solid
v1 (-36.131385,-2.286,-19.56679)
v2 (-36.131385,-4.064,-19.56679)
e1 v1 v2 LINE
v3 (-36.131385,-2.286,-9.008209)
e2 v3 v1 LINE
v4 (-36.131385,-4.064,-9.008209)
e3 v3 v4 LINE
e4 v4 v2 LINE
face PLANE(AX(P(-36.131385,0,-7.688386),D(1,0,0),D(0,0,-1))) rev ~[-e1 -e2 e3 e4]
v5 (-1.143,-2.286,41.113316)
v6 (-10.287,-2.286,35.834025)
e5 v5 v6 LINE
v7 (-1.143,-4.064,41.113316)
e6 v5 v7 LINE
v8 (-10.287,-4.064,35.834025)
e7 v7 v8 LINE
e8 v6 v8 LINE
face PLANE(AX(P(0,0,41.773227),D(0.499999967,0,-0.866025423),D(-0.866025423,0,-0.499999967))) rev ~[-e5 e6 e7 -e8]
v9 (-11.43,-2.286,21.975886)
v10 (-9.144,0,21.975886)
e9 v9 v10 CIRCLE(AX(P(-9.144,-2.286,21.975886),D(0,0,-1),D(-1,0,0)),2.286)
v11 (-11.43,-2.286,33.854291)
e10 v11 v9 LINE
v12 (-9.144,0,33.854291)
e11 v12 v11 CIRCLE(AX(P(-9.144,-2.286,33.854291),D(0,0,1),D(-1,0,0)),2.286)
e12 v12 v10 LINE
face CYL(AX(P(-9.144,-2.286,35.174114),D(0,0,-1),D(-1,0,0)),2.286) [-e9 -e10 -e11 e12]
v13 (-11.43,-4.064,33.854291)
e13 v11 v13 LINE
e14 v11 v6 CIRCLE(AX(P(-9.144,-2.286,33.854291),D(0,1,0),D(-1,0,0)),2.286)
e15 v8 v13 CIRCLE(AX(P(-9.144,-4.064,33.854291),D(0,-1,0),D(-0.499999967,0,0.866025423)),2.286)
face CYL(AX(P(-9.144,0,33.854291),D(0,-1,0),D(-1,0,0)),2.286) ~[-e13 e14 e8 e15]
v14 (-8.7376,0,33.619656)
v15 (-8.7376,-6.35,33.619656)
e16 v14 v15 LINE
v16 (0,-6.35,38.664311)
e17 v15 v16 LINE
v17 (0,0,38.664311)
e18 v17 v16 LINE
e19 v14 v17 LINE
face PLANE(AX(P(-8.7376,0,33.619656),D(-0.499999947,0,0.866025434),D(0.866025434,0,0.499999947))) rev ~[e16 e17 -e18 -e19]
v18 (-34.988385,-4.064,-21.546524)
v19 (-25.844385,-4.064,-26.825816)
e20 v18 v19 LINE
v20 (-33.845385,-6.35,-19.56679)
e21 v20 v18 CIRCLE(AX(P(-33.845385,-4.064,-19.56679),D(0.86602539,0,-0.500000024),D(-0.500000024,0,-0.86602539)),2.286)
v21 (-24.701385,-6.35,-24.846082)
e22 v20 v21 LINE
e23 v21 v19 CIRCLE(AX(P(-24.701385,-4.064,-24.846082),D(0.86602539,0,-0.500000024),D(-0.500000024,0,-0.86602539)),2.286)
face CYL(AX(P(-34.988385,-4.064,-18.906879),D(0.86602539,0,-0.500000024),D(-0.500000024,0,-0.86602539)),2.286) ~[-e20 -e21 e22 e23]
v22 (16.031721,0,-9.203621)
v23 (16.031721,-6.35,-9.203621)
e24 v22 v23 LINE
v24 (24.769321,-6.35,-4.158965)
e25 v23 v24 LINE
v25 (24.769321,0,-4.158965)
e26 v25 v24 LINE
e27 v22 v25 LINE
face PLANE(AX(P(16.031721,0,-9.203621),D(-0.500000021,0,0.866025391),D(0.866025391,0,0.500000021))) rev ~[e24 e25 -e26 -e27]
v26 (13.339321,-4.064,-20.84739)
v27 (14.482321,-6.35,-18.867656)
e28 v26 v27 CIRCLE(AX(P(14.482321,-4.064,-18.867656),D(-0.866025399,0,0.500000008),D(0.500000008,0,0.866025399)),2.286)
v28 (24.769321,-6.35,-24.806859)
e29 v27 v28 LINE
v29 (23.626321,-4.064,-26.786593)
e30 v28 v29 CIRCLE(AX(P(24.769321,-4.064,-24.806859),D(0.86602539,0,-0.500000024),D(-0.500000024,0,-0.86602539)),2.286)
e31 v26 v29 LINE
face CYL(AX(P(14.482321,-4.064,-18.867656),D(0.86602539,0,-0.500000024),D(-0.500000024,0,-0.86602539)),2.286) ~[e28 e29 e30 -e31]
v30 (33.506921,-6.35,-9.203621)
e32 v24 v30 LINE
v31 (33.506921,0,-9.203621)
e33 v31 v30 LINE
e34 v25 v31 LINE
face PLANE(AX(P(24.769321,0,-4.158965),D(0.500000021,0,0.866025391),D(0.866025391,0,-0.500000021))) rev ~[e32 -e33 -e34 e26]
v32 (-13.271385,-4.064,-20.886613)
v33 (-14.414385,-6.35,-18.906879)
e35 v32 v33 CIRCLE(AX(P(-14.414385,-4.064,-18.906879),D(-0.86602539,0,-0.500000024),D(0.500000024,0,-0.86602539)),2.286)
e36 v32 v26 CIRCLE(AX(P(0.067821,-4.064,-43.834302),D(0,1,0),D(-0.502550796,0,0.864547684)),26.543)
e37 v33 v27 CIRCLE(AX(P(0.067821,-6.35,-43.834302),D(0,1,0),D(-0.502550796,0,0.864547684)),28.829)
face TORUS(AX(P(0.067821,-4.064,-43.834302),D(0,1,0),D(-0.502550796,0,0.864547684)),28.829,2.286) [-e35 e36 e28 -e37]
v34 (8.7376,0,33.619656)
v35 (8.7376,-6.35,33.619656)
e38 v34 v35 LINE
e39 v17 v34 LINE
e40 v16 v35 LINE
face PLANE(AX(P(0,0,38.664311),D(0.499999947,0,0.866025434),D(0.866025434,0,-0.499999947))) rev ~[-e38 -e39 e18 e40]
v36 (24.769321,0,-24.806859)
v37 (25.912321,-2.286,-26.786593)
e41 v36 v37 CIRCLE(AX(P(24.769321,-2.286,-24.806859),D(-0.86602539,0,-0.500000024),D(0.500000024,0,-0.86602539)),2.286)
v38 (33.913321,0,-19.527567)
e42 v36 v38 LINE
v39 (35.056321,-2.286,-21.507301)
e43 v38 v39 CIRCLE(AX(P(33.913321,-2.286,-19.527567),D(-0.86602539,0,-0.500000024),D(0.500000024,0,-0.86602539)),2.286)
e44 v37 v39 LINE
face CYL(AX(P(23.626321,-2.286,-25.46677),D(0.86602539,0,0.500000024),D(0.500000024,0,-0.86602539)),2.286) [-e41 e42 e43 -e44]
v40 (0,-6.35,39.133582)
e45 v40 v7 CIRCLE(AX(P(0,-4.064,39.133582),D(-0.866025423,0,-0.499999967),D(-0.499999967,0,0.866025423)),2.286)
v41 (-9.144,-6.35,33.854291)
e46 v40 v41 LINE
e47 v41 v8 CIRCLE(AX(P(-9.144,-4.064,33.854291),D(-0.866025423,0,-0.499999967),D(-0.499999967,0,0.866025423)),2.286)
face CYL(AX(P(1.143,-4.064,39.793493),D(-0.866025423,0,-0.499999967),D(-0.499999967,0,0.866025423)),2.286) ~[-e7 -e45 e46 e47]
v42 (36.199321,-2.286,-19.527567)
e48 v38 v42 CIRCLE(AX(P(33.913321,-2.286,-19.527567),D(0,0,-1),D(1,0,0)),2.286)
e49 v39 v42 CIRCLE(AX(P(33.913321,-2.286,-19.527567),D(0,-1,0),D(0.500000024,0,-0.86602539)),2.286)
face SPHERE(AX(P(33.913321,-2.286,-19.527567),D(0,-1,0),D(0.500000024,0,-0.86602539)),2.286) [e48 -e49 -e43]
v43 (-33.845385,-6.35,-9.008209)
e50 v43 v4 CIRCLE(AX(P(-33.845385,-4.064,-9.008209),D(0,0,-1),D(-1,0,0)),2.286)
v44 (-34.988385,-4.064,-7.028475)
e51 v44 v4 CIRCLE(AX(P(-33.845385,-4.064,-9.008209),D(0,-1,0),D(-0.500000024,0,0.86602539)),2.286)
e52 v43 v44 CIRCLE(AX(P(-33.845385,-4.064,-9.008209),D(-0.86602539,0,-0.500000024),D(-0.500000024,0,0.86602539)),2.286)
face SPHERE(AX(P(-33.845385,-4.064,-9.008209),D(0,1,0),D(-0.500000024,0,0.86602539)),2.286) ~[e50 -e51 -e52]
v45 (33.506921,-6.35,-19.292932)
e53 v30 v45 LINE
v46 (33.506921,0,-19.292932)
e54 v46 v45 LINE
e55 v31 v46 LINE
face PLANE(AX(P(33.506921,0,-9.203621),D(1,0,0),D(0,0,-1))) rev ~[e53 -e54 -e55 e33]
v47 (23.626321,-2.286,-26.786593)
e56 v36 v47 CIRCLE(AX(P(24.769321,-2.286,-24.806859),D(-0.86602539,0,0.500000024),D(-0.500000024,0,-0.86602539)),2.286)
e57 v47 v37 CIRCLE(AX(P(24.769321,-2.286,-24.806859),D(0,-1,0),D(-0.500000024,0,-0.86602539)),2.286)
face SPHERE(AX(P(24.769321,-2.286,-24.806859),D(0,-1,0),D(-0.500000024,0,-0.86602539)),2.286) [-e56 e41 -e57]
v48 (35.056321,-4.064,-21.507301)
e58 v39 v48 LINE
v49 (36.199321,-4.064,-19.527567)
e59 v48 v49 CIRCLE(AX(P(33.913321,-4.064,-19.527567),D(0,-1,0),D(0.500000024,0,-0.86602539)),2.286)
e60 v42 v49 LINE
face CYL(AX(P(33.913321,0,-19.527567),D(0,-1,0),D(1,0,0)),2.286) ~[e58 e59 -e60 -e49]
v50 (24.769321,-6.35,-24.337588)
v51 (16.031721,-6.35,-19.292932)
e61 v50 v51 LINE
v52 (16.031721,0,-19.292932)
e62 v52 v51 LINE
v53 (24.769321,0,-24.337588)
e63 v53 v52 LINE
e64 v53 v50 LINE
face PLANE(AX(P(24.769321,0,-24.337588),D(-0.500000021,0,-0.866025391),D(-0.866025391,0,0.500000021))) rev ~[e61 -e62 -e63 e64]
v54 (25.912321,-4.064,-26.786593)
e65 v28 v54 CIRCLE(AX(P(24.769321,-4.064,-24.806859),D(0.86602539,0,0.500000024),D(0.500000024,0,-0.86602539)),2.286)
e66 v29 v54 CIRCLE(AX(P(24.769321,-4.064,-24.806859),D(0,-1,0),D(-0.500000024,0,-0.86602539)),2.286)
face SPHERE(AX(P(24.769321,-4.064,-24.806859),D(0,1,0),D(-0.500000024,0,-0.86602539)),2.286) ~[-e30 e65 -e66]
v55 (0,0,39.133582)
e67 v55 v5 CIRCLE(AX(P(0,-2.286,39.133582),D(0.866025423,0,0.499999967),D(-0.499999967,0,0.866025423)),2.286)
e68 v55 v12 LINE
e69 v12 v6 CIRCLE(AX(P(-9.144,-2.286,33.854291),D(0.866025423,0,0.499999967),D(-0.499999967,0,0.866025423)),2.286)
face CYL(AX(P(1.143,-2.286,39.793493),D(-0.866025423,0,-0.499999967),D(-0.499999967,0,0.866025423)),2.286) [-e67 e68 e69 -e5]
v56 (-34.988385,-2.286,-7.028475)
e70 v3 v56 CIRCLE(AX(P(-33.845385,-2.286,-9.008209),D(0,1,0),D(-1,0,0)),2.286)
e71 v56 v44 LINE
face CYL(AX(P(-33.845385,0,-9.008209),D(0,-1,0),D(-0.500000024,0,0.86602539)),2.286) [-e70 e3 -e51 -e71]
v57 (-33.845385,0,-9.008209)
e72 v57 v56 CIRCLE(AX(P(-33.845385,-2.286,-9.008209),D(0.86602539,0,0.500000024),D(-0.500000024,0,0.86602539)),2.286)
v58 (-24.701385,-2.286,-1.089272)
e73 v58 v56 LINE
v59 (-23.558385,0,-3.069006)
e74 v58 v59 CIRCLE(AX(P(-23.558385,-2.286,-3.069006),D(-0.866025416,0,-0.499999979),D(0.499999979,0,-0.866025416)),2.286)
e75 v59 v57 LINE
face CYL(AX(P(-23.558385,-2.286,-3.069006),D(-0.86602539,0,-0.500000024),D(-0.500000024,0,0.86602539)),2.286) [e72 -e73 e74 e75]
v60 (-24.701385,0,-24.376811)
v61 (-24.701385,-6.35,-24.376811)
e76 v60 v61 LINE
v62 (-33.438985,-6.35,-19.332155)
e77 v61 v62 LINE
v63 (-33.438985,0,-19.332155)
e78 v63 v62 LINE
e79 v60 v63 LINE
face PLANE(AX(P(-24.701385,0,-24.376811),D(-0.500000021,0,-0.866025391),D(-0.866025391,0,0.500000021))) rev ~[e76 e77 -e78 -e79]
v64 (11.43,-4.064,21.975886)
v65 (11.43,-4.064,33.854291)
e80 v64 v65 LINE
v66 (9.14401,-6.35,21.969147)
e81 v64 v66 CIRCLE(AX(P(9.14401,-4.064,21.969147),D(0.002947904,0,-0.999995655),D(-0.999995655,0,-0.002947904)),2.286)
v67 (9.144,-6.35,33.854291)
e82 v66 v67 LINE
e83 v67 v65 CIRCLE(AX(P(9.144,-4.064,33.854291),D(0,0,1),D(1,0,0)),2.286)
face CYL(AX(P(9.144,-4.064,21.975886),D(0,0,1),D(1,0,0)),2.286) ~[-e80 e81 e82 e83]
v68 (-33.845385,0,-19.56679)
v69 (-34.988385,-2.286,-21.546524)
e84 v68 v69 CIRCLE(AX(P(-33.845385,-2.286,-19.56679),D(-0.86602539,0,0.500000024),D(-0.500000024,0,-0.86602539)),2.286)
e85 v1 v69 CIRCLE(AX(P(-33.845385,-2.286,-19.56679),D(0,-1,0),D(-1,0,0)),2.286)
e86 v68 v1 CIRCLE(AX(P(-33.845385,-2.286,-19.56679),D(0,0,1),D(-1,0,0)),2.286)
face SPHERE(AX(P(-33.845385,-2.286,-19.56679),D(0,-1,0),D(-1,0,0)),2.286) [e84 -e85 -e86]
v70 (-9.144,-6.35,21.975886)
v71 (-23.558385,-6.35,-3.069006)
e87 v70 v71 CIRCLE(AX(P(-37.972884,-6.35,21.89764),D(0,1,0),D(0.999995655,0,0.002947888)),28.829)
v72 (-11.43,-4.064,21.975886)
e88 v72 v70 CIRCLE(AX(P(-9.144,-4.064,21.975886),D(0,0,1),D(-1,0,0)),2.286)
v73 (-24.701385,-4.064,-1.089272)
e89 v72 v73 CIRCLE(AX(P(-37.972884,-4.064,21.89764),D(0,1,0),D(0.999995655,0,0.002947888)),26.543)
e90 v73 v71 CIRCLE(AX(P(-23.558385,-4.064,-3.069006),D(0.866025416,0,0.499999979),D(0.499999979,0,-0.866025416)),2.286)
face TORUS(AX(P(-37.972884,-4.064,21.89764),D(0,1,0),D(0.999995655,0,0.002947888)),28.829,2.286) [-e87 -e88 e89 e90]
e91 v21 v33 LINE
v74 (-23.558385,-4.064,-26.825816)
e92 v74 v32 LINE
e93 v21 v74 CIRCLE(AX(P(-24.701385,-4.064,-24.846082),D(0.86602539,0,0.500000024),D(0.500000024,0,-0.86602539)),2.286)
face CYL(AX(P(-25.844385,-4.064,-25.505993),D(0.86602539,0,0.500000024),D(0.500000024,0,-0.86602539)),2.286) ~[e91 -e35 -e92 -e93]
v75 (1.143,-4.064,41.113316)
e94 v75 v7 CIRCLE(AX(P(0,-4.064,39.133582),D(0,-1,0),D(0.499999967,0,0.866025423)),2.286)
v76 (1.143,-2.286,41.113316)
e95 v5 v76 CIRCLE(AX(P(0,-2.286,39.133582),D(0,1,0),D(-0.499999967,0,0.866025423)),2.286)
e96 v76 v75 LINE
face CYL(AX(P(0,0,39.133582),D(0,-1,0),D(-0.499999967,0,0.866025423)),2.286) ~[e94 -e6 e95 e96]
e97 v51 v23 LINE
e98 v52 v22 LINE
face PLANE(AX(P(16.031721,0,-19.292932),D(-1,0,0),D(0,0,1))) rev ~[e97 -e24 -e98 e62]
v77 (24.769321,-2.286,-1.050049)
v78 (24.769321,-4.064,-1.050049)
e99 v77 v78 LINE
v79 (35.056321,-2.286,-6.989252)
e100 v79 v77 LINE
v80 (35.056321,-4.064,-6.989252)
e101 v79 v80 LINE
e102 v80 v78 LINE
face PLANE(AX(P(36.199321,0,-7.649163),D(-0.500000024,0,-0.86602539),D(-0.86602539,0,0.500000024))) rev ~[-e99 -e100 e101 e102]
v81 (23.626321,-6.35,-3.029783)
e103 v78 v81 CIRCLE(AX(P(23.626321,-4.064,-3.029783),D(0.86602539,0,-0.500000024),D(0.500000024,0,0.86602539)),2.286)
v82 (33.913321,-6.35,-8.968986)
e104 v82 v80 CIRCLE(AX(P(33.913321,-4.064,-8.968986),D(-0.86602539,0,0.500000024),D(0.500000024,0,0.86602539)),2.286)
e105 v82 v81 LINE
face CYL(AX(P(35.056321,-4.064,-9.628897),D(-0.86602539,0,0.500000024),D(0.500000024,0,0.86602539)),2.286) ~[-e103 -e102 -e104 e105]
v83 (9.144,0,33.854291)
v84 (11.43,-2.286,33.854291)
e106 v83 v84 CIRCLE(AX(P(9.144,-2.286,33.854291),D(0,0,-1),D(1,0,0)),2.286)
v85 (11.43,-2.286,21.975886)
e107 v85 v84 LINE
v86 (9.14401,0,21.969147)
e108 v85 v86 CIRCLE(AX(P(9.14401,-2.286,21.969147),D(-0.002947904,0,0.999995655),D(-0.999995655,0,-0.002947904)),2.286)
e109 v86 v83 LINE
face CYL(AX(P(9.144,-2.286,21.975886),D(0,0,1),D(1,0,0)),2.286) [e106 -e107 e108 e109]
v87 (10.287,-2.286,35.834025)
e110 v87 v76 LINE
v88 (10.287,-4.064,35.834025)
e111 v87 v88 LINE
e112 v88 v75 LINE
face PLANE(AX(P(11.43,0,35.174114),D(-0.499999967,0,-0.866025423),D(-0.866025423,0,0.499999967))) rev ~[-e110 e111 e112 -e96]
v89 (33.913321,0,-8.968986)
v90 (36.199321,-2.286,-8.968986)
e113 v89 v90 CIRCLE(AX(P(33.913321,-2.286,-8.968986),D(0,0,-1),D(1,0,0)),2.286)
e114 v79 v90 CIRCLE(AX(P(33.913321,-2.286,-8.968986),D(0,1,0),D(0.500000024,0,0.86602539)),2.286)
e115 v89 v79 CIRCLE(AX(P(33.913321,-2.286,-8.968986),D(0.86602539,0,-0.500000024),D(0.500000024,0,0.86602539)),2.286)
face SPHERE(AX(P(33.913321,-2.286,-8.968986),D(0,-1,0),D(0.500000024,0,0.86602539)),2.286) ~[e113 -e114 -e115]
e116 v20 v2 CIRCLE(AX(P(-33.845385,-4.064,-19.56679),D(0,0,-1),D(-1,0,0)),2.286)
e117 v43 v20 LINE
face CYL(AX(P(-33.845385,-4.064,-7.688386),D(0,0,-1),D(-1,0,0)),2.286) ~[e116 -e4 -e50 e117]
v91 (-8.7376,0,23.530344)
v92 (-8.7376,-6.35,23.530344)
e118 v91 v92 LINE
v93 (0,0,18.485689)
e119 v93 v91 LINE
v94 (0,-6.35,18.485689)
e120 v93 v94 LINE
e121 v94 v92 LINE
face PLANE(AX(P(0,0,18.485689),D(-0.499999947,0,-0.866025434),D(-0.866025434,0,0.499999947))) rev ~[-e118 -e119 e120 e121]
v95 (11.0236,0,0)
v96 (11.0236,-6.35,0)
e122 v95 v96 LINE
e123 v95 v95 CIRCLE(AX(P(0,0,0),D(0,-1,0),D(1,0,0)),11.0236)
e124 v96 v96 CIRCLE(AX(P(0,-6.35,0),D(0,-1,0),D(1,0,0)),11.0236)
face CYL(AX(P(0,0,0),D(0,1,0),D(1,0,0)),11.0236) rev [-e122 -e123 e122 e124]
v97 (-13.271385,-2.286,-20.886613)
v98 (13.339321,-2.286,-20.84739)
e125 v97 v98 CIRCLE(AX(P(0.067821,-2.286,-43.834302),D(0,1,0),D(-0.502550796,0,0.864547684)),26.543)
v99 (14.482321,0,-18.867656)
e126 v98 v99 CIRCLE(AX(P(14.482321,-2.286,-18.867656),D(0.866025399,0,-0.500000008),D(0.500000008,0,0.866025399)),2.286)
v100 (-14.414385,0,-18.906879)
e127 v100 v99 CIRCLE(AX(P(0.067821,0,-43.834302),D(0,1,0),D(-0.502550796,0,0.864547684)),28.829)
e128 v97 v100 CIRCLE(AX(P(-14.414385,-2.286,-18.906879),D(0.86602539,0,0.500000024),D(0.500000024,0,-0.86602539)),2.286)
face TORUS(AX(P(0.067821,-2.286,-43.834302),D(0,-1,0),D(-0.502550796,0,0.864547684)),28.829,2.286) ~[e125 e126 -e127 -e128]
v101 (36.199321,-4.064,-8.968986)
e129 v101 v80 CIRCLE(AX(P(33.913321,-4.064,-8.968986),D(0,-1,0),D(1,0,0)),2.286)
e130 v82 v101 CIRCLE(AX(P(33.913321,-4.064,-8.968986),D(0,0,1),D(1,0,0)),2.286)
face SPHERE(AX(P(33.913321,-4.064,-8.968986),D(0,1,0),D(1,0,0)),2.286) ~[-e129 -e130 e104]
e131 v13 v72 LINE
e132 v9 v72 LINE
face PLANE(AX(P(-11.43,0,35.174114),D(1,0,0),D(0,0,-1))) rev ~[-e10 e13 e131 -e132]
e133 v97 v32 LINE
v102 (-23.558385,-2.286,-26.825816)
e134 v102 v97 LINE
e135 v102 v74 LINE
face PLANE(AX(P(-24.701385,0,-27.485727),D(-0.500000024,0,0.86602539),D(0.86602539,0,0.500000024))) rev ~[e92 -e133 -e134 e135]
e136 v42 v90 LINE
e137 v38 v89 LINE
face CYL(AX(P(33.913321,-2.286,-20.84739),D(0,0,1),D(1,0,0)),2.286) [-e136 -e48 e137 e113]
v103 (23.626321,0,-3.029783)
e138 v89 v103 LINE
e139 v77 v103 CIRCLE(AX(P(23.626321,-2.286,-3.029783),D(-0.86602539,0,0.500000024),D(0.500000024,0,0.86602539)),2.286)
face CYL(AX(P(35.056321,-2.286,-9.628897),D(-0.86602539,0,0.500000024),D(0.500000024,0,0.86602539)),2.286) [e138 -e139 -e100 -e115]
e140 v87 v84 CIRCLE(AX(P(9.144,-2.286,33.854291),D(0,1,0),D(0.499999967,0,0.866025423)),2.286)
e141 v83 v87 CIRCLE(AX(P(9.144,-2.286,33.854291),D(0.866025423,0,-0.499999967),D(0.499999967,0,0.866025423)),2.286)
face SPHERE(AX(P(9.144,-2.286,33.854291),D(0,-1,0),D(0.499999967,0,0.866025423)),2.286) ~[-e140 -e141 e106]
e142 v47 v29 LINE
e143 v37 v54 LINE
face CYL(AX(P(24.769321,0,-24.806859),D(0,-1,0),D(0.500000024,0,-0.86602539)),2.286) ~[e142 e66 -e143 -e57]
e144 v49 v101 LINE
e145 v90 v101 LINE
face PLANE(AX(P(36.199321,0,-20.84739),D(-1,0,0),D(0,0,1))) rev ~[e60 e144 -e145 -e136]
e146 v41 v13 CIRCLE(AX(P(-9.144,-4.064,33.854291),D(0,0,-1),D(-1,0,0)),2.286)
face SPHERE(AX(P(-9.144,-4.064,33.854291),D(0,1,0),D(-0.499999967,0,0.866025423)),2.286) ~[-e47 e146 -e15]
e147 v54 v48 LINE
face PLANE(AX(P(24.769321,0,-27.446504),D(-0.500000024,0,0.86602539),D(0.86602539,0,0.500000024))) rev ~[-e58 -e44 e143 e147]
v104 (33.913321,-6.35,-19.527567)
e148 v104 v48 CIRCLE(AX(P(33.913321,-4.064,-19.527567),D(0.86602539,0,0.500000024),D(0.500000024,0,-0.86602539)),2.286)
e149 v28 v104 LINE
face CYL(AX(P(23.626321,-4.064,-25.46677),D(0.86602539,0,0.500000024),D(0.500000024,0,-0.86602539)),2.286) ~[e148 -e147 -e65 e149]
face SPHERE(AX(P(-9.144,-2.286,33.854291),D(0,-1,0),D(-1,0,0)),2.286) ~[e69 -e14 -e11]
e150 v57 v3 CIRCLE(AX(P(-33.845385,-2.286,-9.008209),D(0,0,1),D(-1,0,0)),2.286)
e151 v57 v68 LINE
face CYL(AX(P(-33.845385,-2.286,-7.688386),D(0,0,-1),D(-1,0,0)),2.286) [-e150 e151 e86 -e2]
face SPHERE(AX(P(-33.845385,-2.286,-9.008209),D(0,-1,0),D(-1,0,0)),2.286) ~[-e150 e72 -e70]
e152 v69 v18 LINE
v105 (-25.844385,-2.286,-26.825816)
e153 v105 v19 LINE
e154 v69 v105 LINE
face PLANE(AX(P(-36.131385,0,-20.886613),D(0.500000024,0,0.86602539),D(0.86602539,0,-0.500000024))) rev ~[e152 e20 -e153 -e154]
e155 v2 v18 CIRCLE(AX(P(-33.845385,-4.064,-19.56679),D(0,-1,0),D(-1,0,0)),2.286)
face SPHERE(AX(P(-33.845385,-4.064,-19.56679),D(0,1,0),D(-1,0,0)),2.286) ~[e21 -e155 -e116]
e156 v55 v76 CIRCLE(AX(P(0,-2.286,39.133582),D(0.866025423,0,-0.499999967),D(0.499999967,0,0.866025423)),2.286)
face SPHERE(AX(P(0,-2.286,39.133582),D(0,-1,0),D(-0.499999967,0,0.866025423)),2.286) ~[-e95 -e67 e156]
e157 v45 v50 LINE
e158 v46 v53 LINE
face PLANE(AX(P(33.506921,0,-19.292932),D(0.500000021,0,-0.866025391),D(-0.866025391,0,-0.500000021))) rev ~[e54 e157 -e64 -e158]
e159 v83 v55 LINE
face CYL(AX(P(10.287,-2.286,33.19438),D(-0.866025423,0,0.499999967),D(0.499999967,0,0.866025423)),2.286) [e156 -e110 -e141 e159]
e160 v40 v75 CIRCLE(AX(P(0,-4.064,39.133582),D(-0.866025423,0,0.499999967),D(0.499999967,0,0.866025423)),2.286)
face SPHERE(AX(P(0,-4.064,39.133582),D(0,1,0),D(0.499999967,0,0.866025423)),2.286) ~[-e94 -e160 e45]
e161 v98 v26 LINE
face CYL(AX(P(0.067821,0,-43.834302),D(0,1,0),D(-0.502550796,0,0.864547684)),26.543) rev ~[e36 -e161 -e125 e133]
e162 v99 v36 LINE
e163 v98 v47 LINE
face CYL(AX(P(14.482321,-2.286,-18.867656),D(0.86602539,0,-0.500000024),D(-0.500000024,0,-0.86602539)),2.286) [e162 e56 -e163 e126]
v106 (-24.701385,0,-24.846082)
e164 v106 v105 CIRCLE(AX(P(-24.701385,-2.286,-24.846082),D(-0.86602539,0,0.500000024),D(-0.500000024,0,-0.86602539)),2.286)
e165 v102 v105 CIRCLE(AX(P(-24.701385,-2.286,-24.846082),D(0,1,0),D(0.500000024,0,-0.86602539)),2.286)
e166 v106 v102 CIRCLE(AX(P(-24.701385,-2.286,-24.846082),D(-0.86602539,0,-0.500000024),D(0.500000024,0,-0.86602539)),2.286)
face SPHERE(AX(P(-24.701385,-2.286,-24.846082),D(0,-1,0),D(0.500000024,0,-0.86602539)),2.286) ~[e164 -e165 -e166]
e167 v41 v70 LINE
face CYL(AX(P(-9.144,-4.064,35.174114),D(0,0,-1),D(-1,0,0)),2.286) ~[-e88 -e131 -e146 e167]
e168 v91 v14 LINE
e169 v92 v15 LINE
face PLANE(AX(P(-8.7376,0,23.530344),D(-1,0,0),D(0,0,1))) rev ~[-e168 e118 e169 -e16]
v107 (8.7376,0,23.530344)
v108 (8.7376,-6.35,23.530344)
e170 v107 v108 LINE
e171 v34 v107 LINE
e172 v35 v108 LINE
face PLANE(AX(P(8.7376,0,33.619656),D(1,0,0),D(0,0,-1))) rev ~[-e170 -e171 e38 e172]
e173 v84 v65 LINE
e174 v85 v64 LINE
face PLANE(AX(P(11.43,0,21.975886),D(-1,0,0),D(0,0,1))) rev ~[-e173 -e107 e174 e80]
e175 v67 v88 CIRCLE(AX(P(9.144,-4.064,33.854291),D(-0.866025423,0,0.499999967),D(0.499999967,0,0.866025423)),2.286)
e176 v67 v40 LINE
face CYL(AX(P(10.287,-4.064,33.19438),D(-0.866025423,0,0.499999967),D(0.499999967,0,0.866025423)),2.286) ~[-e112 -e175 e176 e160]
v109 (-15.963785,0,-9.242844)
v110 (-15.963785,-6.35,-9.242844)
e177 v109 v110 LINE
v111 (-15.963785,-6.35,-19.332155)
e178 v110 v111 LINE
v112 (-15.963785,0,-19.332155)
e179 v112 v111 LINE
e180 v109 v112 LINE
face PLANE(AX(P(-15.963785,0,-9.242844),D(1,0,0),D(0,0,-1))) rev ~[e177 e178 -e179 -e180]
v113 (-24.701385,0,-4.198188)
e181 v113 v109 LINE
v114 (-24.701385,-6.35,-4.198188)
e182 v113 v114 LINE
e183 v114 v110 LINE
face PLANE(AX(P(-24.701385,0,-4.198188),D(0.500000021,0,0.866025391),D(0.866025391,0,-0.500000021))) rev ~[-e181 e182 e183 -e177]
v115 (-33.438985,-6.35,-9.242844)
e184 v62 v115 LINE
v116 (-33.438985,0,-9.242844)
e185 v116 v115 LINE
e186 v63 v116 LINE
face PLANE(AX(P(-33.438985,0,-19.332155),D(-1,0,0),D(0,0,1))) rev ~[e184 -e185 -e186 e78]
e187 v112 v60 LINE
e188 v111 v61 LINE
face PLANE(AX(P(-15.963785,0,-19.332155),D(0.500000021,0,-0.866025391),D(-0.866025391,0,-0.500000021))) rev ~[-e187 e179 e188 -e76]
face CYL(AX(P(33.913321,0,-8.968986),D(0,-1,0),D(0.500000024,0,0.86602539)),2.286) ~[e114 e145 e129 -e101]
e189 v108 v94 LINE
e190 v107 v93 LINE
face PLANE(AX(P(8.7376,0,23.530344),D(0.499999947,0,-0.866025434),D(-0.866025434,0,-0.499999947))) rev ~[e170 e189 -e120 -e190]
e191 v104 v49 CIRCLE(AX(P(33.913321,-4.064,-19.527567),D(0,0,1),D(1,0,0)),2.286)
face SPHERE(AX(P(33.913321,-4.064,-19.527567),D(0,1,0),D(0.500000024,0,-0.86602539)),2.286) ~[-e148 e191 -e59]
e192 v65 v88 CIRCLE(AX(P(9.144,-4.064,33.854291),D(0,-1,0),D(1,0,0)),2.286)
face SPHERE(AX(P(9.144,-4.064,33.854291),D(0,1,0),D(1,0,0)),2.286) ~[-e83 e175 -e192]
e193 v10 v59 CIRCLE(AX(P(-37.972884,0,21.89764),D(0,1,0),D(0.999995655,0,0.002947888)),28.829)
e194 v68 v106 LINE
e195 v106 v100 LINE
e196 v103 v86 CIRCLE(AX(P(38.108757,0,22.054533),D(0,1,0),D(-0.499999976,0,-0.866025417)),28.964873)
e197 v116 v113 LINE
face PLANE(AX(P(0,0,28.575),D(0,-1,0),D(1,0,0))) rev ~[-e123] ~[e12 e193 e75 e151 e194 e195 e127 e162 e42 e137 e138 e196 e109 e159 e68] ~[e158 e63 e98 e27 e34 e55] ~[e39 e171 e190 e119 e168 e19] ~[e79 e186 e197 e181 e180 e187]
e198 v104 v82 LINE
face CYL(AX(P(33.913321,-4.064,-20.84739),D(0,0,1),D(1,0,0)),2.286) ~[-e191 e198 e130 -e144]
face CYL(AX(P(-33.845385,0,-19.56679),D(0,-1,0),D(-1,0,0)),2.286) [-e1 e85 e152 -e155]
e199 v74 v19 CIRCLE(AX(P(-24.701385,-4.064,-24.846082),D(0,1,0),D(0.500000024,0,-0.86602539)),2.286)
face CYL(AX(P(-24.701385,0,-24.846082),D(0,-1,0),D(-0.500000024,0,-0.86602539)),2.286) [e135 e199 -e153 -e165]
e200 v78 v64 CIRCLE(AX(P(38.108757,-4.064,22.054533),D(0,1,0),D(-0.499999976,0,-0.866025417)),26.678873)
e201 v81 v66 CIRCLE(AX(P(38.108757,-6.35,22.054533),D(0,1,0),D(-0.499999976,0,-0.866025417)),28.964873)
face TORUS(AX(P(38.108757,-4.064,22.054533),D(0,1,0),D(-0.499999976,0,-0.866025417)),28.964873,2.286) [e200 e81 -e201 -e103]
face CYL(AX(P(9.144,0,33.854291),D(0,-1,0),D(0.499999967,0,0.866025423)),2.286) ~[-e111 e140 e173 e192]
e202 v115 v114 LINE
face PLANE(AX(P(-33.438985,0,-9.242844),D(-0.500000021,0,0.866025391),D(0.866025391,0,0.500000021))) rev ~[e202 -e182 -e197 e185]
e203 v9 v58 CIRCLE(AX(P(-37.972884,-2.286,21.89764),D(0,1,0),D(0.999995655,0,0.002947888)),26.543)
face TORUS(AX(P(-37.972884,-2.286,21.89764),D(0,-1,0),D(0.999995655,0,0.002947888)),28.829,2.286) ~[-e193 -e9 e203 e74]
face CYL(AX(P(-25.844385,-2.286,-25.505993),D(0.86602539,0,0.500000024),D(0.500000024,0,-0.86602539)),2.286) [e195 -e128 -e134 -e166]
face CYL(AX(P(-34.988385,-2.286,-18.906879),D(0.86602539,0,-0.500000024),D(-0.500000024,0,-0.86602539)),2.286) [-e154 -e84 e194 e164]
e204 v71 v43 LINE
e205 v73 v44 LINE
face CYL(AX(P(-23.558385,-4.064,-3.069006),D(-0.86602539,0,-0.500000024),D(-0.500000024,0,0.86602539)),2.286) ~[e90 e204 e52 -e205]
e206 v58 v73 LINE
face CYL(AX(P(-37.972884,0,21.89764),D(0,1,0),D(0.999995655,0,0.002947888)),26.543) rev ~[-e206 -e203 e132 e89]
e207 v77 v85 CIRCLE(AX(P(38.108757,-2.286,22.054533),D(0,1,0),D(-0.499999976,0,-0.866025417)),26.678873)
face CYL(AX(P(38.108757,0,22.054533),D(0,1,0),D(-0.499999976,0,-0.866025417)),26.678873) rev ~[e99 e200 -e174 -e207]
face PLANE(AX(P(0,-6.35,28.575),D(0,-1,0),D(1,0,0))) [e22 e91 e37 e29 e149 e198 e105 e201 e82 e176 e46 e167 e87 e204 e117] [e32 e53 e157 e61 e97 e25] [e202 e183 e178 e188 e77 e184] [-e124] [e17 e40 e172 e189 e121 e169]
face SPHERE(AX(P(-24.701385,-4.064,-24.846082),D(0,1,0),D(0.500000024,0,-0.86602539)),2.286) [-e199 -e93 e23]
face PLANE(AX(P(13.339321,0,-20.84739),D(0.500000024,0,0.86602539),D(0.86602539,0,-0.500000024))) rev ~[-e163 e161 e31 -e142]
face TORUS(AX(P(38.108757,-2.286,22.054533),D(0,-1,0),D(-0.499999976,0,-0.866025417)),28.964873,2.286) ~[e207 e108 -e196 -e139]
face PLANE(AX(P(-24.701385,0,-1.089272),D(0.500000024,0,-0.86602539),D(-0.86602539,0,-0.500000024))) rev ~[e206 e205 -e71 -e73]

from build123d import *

# Parameters (mm, degrees)
F0_R     = 14.2875
F0_R_2   = 11.0236
F1_DEPTH = 6.35
F2_R     = 2.286


with BuildPart() as f1:
    # F0 (on Front) → F1 (new body)
    with BuildSketch(Plane.XZ):
        Polygon((-11.43, 35.174114), (-11.43, 21.975886), (0, 15.376773), (11.43, 21.975886), (11.43, 35.174114), (0, 41.773227), align=None)
        Polygon((0, 18.485689), (-8.7376, 23.530344), (-8.7376, 33.619656), (0, 38.664311), (8.7376, 33.619656), (8.7376, 23.530344), align=None, mode=Mode.SUBTRACT)
        with BuildLine():
            Line((0, 15.376773), (-11.43, 21.975886))
            ThreePointArc((-11.43, 21.975886), (-14.966436, 8.660036), (-24.701385, -1.089272))
            Line((-24.701385, -1.089272), (-13.271385, -7.688386))
            Line((-13.271385, -7.688386), (-13.271385, -20.886613))
            ThreePointArc((-13.271385, -20.886613), (0.028698, -17.291331), (13.339321, -20.84739))
            Line((13.339321, -20.84739), (13.339321, -7.649163))
            Line((13.339321, -7.649163), (24.769321, -1.050049))
            ThreePointArc((24.769321, -1.050049), (15.023862, 8.681056), (11.43, 21.975886))
            Line((11.43, 21.975886), (0, 15.376773))
        make_face()
        Circle(F0_R, mode=Mode.SUBTRACT)
        Polygon((-13.271385, -7.688386), (-24.701385, -1.089272), (-36.131385, -7.688386), (-36.131385, -20.886613), (-24.701385, -27.485727), (-13.271385, -20.886613), align=None)
        Polygon((-24.701385, -24.376811), (-33.438985, -19.332155), (-33.438985, -9.242844), (-24.701385, -4.198188), (-15.963785, -9.242844), (-15.963785, -19.332155), align=None, mode=Mode.SUBTRACT)
        Polygon((36.199321, -7.649163), (24.769321, -1.050049), (13.339321, -7.649163), (13.339321, -20.84739), (24.769321, -27.446504), (36.199321, -20.84739), align=None)
        Polygon((33.506921, -9.203621), (33.506921, -19.292932), (24.769321, -24.337588), (16.031721, -19.292932), (16.031721, -9.203621), (24.769321, -4.158965), align=None, mode=Mode.SUBTRACT)
        Circle(F0_R)
        Circle(F0_R_2, mode=Mode.SUBTRACT)
    extrude(amount=F1_DEPTH)

    # F2
    f2_edges = [f1.edges().sort_by_distance(p)[0] for p in [
        (0.028698, -6.35, -17.291331),
        (30.484321, -6.35, -24.146947),
        (36.199321, -6.35, -14.248276),
        (15.023862, -6.35, 8.681056),
        (11.43, -6.35, 28.575),
        (5.715, -6.35, 38.47367),
        (-5.715, -6.35, 38.47367),
        (-11.43, -6.35, 28.575),
        (-14.966436, -6.35, 8.660036),
        (-36.131385, -6.35, -14.2875),
        (-30.416385, -6.35, -24.18617),
        (-18.986385, -6.35, -24.18617),
        (-36.131385, 0, -14.2875),
        (-30.416385, 0, -4.388829),
        (-11.43, 0, 28.575),
        (-5.715, 0, 38.47367),
        (5.715, 0, 38.47367),
        (30.484321, -6.35, -4.349606),
        (11.43, 0, 28.575),
        (15.023862, 0, 8.681056),
        (0.028698, 0, -17.291331),
        (30.484321, 0, -24.146947),
        (19.054321, 0, -24.146947),
        (-30.416385, -6.35, -4.388829),
        (19.054321, -6.35, -24.146947),
        (-30.416385, 0, -24.18617),
        (36.199321, 0, -14.248276),
        (-14.966436, 0, 8.660036),
        (30.484321, 0, -4.349606),
        (-18.986385, 0, -24.18617),
        (0, -3.175, 41.773227),
        (-11.43, -3.175, 35.174114),
        (-11.43, -3.175, 21.975886),
        (-36.131385, -3.175, -7.688386),
        (-36.131385, -3.175, -20.886613),
        (-24.701385, -3.175, -27.485727),
        (24.769321, -3.175, -27.446504),
        (36.199321, -3.175, -20.84739),
        (36.199321, -3.175, -7.649163),
        (11.43, -3.175, 35.174114),
    ]]
    fillet(f2_edges, radius=F2_R)


solid = f1.part
